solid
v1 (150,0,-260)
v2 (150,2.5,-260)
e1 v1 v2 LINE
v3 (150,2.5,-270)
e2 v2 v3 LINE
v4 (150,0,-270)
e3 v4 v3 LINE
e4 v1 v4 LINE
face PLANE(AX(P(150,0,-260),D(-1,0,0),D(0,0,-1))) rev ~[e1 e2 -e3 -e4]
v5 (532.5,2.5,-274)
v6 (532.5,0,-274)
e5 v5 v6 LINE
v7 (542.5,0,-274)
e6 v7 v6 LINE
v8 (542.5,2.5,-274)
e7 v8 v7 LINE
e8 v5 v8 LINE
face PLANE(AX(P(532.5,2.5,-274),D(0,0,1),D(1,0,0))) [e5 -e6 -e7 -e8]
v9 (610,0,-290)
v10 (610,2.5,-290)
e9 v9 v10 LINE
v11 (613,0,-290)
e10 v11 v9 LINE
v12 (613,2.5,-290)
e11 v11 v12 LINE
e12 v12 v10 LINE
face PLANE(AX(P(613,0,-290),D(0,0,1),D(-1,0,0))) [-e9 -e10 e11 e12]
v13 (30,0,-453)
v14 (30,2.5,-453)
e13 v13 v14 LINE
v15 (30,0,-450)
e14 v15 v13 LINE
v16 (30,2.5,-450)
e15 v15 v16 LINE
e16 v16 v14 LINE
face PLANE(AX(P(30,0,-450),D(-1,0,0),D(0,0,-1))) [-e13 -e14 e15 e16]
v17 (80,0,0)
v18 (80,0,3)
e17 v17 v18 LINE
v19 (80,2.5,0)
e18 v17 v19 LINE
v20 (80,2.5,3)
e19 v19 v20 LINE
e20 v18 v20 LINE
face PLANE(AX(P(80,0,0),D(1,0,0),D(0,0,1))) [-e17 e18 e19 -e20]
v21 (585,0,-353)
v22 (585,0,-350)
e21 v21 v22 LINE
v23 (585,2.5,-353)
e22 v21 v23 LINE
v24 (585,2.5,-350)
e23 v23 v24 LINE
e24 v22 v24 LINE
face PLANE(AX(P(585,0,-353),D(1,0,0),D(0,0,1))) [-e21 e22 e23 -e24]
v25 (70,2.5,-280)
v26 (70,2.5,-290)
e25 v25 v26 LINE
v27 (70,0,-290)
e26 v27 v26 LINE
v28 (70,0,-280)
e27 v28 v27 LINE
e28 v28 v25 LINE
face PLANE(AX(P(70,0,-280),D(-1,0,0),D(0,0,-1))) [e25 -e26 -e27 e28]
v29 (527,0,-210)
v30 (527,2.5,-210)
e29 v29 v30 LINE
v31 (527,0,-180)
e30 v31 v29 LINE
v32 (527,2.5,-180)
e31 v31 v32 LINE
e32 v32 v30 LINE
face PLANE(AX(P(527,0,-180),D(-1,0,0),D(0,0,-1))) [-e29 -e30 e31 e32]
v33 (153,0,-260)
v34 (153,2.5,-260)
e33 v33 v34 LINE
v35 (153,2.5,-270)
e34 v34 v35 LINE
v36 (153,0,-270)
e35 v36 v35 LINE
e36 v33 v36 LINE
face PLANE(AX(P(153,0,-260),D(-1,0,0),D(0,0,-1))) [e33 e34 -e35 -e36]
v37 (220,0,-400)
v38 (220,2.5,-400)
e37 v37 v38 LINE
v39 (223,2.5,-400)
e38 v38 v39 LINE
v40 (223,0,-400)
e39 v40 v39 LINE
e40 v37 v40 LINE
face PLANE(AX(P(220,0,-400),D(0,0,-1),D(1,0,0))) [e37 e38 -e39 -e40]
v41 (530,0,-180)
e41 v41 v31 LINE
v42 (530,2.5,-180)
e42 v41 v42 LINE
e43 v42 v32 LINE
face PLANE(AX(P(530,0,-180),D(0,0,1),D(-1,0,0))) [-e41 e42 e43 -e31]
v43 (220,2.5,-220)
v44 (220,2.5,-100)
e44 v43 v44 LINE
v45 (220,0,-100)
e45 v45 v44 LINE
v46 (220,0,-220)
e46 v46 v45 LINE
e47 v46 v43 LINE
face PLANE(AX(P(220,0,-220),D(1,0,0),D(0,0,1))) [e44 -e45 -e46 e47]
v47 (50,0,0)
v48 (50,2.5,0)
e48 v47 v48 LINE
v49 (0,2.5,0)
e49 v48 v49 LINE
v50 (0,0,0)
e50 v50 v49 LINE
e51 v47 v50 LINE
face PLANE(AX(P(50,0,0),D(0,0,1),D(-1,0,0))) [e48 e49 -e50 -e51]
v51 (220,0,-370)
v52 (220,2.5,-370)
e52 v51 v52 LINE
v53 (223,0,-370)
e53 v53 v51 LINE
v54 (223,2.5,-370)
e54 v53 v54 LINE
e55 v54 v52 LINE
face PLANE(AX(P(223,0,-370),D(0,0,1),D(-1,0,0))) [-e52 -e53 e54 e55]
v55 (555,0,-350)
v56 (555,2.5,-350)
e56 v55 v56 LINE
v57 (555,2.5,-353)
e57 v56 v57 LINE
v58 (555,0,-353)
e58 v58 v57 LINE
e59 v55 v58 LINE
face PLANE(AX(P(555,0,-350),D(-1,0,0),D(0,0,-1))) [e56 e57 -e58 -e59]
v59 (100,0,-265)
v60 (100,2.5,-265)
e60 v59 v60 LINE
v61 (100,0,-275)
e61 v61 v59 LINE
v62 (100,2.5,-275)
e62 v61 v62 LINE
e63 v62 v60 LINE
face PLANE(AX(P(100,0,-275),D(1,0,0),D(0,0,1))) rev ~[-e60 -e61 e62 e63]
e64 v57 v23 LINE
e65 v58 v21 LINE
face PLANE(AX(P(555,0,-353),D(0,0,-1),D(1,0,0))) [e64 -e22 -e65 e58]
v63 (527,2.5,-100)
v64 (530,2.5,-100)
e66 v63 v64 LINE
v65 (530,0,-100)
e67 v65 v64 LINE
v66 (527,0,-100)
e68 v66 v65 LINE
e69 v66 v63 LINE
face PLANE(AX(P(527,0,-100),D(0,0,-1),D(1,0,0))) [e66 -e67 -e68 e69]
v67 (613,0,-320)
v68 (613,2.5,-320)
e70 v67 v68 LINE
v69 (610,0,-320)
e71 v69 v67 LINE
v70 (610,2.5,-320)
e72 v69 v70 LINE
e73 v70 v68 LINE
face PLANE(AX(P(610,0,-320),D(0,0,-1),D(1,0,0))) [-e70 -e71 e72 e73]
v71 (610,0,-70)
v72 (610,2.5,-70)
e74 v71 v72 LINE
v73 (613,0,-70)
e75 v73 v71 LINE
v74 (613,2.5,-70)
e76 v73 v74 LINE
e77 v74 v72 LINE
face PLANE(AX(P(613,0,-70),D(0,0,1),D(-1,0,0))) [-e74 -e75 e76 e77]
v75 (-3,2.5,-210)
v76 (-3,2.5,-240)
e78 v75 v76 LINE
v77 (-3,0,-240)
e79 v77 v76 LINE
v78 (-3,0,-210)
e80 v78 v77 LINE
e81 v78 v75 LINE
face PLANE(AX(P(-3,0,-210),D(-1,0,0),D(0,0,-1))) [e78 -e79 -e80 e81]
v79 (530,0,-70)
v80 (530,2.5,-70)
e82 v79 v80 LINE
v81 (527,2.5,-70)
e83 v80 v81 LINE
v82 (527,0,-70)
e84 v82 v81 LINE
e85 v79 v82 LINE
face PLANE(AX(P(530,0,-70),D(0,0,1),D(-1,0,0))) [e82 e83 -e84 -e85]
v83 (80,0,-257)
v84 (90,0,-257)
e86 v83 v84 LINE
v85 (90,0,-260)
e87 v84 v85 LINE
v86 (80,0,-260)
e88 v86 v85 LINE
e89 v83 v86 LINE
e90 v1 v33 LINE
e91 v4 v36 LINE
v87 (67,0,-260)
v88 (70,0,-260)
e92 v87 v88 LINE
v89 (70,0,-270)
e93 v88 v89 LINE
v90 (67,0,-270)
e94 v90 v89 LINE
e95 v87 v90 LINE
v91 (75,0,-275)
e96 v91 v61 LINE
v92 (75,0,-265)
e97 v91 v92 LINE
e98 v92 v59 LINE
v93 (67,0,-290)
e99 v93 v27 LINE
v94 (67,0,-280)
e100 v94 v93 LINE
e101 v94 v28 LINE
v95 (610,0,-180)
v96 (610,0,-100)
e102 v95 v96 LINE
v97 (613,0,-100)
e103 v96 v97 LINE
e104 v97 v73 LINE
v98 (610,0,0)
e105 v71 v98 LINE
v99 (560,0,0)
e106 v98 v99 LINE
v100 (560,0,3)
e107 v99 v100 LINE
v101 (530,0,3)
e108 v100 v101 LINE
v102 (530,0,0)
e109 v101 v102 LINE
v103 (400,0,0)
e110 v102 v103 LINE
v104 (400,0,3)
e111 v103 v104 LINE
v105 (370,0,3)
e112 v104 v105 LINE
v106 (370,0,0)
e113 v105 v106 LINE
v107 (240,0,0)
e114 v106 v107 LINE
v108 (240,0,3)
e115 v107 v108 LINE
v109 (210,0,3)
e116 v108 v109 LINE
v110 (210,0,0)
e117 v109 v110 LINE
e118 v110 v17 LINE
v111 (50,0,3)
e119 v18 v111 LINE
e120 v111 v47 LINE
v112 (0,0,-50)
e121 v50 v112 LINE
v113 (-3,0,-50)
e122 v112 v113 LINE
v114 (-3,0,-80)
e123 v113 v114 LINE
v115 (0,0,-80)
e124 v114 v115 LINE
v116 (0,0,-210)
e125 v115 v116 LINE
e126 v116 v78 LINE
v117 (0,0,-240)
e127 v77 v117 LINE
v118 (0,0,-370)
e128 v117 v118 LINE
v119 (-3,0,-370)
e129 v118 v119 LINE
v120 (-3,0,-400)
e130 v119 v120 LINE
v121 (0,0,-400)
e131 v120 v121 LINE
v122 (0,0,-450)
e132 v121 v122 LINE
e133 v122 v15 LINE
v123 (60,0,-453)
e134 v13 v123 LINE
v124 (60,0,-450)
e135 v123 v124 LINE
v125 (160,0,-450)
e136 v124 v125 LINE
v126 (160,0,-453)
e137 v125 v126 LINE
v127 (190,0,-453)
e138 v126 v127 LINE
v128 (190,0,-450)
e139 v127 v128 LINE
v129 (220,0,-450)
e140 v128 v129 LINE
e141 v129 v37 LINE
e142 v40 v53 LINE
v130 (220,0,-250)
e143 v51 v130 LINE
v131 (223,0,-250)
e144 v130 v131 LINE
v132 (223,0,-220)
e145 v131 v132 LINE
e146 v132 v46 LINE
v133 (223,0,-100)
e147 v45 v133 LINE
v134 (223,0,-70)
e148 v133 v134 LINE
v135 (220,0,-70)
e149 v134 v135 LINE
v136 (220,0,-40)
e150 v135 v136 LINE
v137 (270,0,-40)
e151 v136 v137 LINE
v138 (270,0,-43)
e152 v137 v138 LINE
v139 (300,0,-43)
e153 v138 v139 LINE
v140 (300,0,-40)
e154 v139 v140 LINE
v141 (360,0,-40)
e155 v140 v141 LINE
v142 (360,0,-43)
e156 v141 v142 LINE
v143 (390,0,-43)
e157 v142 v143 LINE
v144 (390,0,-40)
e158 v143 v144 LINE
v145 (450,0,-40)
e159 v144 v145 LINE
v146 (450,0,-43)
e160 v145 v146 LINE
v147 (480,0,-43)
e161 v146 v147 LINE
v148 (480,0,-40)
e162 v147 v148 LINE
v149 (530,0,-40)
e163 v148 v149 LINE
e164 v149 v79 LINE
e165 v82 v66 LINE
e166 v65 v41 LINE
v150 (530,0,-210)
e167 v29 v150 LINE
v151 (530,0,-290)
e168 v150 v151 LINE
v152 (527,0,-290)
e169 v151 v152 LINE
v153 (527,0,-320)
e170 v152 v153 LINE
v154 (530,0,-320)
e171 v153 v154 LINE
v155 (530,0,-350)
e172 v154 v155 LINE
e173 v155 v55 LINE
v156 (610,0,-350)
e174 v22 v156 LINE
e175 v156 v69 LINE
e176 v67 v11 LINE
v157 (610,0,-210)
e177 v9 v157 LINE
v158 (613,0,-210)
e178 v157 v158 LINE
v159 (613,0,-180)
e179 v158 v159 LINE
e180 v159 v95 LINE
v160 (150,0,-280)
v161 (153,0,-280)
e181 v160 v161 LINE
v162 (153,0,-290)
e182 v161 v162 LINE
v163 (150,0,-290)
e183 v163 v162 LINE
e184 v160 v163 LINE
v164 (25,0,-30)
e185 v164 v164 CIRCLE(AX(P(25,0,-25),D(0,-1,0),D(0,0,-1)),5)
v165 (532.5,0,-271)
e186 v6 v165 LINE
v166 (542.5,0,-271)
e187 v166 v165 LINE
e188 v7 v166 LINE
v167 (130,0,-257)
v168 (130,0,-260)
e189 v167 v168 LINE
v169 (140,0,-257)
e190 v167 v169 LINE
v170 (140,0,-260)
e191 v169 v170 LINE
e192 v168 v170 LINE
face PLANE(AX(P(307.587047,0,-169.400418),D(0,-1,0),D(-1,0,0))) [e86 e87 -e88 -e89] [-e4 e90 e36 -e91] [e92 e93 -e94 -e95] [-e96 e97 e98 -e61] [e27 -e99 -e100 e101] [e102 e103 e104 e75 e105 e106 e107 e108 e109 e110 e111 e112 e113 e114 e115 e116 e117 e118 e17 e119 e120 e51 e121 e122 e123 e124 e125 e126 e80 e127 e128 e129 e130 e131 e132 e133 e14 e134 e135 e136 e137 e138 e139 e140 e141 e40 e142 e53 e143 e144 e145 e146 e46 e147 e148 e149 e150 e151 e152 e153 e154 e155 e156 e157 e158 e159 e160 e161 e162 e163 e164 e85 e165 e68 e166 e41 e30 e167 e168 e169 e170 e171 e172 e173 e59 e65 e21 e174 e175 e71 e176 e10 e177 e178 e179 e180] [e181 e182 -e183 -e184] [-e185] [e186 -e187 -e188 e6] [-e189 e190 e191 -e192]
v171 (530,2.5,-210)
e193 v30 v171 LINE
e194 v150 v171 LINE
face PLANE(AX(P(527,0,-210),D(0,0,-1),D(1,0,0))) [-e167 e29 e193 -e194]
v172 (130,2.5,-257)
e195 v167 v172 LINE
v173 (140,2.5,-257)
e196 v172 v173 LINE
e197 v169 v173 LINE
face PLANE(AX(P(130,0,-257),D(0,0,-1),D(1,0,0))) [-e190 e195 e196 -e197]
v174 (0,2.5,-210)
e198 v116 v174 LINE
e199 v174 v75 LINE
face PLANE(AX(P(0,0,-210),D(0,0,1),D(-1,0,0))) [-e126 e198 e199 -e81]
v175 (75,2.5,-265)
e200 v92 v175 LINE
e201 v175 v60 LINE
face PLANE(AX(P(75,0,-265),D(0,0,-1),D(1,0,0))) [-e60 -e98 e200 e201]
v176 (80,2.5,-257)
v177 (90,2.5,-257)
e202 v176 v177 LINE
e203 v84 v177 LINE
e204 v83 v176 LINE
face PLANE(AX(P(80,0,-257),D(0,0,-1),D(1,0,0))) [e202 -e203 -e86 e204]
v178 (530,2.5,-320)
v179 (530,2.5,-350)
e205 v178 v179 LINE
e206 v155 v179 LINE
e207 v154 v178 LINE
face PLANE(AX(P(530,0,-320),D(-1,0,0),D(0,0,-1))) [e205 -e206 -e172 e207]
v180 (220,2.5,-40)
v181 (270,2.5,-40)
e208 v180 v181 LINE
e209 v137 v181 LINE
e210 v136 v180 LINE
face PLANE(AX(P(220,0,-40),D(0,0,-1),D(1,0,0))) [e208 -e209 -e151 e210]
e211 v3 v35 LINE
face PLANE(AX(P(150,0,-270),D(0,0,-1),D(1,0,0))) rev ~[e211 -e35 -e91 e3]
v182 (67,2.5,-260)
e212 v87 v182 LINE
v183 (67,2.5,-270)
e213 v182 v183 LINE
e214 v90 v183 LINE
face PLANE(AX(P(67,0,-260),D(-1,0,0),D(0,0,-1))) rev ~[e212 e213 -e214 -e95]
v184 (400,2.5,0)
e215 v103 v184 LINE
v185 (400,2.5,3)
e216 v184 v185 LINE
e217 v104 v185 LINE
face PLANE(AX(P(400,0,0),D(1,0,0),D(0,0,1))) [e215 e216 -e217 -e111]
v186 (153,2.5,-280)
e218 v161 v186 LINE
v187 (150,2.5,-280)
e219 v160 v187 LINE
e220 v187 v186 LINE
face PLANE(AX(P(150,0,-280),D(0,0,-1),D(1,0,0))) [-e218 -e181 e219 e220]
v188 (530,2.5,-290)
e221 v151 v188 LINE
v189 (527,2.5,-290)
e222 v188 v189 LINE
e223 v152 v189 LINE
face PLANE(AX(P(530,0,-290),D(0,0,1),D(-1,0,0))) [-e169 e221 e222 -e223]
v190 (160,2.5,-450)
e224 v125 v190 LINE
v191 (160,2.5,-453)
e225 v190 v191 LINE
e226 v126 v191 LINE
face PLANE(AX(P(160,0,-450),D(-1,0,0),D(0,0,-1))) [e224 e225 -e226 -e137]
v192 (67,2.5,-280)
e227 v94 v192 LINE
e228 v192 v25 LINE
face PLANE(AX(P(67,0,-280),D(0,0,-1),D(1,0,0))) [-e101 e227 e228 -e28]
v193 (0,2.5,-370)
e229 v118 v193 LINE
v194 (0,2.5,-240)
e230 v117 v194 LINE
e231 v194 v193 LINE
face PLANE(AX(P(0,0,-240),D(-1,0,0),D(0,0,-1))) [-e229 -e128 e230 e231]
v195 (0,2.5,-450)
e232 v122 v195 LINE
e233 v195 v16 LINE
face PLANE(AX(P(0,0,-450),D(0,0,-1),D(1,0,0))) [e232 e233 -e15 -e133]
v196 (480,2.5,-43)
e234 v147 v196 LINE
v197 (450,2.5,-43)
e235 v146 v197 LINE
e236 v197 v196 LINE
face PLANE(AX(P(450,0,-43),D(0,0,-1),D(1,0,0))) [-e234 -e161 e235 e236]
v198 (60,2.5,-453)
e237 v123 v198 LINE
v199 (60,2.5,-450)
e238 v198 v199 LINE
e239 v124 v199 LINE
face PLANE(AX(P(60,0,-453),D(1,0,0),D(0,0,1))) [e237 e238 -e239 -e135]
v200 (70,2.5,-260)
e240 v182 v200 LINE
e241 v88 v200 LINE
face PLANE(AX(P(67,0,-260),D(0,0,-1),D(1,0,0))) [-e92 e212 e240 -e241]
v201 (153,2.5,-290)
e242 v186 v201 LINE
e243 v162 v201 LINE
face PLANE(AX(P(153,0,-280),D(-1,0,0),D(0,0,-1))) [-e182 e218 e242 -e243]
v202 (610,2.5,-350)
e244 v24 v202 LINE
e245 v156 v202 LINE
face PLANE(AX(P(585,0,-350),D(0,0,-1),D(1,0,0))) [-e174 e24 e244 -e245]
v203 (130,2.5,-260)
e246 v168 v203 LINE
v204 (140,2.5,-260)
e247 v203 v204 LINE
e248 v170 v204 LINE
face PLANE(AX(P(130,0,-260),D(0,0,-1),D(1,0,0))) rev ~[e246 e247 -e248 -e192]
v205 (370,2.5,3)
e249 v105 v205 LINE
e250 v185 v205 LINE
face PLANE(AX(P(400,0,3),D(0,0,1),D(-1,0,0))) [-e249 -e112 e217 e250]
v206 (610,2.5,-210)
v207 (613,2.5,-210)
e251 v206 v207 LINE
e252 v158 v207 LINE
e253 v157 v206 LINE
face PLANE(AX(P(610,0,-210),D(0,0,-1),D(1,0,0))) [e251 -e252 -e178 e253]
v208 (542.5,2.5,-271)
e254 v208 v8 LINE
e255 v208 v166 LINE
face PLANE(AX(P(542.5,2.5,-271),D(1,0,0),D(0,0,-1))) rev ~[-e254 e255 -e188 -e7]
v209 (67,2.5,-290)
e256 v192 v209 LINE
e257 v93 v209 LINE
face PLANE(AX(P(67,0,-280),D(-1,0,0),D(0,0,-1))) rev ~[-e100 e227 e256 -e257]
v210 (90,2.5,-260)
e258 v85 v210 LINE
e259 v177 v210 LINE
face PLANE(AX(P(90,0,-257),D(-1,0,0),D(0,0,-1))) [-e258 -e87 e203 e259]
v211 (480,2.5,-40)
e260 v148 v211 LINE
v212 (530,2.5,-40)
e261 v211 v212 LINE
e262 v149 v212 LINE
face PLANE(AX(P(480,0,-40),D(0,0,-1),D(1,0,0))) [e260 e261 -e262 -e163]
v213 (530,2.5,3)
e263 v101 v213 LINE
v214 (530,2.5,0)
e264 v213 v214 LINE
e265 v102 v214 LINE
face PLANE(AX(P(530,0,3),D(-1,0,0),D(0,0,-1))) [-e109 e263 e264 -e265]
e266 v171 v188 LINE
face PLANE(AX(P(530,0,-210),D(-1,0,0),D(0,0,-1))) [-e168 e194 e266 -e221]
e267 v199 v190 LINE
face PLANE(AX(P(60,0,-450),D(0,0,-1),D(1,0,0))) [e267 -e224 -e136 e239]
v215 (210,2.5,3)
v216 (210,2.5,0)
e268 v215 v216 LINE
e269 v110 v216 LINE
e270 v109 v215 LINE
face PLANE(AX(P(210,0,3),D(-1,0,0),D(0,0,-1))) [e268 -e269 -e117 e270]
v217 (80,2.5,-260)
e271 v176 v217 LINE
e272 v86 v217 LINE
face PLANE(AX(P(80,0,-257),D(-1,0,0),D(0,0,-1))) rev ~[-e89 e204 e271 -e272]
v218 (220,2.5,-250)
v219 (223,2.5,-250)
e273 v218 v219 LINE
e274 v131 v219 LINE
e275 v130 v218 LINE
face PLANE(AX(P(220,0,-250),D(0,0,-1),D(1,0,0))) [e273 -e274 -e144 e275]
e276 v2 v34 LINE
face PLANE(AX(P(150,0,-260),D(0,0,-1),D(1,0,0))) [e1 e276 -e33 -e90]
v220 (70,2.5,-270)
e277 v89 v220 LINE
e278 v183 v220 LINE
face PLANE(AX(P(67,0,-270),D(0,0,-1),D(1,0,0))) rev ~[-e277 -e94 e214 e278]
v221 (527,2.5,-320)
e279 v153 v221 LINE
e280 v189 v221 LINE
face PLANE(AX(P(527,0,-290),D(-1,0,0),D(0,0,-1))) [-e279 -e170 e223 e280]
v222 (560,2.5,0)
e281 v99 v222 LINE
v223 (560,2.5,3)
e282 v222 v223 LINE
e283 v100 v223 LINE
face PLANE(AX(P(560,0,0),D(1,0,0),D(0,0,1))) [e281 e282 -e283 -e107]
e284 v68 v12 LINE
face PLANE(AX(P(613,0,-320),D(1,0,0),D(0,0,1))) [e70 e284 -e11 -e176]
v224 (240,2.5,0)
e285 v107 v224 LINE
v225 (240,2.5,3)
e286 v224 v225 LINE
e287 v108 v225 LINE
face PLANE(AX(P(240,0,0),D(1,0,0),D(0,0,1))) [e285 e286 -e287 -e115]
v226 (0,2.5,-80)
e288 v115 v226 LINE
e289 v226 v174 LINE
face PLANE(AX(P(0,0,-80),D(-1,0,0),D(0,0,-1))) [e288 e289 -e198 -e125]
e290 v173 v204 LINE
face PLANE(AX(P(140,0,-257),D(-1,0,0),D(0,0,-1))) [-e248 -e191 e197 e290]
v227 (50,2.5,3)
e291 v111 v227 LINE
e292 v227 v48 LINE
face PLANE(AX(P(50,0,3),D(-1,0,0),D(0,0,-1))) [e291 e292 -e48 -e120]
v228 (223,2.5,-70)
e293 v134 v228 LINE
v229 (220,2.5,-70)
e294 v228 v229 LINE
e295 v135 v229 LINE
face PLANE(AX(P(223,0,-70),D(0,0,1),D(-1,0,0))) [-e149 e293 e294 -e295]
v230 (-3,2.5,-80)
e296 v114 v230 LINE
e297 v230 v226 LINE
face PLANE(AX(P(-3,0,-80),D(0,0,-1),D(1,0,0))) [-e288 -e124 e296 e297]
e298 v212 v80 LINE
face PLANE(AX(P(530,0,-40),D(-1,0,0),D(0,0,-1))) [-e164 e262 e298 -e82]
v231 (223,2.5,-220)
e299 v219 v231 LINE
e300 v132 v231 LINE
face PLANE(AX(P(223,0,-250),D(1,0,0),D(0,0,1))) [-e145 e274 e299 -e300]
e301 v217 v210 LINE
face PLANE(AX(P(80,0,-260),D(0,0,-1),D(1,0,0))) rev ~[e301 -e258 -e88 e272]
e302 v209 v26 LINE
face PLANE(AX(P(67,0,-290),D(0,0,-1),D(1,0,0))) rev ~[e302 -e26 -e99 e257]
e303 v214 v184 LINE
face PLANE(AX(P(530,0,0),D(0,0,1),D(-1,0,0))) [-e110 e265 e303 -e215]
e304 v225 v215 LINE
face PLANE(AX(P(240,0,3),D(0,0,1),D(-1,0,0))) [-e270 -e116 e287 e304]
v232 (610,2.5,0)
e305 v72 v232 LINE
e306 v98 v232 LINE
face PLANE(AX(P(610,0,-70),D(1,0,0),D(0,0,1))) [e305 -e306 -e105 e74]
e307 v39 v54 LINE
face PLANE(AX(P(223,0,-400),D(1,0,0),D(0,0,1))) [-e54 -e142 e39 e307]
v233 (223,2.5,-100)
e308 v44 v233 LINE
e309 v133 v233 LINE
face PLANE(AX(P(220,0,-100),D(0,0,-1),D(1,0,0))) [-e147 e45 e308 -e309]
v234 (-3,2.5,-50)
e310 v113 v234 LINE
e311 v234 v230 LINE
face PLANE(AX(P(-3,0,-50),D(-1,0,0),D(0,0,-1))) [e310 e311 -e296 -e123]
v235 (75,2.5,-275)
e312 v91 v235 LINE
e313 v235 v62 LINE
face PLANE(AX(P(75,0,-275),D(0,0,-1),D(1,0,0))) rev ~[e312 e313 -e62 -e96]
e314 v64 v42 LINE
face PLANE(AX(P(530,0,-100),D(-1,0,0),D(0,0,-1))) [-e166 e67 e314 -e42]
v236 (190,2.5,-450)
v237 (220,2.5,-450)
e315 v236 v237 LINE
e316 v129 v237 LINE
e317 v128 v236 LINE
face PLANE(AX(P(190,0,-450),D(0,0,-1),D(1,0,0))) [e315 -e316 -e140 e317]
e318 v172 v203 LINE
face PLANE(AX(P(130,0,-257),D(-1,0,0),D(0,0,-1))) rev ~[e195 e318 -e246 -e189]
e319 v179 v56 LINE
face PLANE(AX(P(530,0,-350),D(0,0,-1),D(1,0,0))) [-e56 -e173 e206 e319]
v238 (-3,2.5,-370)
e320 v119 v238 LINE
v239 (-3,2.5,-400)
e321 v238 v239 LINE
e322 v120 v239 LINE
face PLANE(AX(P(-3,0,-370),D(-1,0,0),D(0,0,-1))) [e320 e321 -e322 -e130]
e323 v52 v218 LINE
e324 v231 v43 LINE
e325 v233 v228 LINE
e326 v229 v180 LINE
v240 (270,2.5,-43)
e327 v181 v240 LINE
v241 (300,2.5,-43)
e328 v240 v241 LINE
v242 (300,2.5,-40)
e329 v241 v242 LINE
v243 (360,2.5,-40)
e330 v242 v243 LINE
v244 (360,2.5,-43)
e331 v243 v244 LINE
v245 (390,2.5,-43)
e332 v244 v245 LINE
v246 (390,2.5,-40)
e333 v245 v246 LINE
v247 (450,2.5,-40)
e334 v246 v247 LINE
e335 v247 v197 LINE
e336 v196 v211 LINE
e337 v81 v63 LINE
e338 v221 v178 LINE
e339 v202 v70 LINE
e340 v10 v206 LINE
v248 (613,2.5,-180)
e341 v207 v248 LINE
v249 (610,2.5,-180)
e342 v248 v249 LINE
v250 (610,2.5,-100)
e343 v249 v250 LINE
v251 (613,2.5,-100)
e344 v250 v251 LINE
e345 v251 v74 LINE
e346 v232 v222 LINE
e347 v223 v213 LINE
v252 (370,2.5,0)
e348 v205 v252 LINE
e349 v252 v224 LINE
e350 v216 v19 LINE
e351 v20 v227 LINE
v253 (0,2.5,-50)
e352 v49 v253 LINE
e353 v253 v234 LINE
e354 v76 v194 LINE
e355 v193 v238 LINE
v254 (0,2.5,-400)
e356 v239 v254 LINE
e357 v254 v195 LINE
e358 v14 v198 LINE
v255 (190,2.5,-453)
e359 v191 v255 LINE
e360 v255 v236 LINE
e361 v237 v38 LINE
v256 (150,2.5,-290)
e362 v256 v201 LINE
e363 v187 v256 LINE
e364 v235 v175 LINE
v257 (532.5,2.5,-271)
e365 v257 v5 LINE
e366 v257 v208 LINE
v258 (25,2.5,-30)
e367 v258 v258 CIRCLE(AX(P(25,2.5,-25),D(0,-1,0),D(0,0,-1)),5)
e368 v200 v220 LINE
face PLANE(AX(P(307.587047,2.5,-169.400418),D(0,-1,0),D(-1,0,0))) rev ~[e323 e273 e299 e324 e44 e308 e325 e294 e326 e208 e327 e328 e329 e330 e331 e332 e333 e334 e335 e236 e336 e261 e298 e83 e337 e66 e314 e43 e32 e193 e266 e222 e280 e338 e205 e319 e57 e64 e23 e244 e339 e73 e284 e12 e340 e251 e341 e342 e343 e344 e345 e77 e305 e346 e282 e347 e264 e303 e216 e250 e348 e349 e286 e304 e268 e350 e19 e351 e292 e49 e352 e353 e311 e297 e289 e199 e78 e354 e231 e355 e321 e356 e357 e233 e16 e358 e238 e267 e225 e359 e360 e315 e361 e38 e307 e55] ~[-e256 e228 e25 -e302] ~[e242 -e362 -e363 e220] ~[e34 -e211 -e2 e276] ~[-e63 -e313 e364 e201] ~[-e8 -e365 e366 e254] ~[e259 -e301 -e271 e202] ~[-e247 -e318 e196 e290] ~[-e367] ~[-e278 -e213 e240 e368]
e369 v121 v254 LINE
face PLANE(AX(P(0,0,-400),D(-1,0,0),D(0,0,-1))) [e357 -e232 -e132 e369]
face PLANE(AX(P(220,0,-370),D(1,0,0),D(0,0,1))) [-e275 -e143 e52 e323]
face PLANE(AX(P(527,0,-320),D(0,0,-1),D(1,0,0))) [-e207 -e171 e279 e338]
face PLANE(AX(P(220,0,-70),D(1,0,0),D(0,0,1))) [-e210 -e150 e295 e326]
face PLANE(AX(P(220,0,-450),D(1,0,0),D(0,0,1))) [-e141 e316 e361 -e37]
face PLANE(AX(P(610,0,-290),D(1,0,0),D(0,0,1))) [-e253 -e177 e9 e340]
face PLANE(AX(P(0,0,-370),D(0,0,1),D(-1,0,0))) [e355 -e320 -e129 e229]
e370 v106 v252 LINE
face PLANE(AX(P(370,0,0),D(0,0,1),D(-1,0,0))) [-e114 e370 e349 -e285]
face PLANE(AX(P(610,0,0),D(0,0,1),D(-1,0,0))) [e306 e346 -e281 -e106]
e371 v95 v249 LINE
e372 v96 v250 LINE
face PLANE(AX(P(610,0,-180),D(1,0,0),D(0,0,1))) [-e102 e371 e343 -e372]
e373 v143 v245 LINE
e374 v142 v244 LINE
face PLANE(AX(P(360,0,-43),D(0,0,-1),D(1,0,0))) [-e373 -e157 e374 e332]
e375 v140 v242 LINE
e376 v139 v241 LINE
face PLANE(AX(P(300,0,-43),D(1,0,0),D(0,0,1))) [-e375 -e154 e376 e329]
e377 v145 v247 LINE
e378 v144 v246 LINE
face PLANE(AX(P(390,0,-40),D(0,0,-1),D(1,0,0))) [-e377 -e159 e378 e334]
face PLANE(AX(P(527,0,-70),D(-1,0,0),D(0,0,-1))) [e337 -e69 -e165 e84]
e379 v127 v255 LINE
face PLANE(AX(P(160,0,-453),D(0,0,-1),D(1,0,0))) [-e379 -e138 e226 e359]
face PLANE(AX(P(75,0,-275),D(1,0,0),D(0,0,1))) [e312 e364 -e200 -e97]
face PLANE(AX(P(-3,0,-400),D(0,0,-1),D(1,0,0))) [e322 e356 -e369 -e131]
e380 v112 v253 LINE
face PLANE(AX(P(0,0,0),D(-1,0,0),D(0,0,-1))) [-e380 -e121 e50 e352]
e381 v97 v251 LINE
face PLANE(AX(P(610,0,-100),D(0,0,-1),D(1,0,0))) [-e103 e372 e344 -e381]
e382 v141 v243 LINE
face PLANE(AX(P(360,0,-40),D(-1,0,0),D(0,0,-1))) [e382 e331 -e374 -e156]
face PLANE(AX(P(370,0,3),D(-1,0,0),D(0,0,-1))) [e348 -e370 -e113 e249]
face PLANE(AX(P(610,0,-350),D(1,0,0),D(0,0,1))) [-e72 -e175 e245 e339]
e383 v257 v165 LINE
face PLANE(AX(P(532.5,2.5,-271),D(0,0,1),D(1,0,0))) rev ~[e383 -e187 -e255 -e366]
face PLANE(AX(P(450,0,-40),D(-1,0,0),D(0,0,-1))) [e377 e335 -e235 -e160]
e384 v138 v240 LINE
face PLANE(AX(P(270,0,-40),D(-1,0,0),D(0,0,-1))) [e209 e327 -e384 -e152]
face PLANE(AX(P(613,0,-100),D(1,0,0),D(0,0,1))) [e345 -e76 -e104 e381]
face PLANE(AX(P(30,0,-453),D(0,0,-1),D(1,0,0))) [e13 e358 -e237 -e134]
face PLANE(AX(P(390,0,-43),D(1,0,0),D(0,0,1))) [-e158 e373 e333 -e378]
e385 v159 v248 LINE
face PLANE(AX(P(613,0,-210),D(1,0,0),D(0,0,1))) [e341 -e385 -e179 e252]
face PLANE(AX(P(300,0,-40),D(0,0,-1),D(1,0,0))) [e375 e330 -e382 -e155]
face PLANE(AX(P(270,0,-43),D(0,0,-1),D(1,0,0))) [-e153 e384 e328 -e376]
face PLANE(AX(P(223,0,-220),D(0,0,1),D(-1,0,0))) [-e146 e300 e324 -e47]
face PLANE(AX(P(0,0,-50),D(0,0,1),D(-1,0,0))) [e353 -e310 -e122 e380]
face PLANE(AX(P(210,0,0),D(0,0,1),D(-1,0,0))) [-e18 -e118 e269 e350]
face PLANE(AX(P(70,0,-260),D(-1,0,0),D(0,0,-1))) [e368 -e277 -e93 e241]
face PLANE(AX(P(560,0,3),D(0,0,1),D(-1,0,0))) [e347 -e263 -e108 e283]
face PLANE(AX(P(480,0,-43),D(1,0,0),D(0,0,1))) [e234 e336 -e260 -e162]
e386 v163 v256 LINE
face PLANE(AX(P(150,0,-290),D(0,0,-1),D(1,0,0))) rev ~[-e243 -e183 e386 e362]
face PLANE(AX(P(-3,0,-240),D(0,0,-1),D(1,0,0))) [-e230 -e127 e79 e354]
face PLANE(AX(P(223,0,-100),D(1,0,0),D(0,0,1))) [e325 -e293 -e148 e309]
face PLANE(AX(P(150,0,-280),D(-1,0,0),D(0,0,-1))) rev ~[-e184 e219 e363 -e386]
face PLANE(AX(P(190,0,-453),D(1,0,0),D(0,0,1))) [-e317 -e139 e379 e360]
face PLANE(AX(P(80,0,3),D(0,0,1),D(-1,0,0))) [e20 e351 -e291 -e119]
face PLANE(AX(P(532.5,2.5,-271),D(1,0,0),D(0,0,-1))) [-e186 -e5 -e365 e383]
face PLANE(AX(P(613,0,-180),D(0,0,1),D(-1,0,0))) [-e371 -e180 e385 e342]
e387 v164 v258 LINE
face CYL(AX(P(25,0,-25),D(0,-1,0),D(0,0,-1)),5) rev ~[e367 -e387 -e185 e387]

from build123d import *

# Parameters (mm, degrees)
SKETCH1_W           = 3
SKETCH1_H           = 10
SKETCH1_W_2         = 10
SKETCH1_H_2         = 3
BOSS_EXTRUDE1_DEPTH = 2.5
SKETCH2_W           = 10
SKETCH2_H           = 3
CUT_EXTRUDE1_DEPTH  = 10
SKETCH3_R           = 5
SKETCH3_W           = 25
SKETCH3_H           = 10
CUT_EXTRUDE2_DEPTH  = 10


with BuildPart() as part:
    # Sketch1 → Boss-Extrude1 (new body)
    with BuildSketch(Plane(origin=(0, 0, 0), x_dir=(1, 0, 0), z_dir=(0, 1, 0))):
        Polygon((0, 0), (0, 50), (-3, 50), (-3, 80), (0, 80), (0, 210), (-3, 210), (-3, 240), (0, 240), (0, 370), (-3, 370), (-3, 400), (0, 400), (0, 450), (30, 450), (30, 453), (60, 453), (60, 450), (160, 450), (160, 453), (190, 453), (190, 450), (220, 450), (220, 400), (223, 400), (223, 370), (220, 370), (220, 250), (223, 250), (223, 220), (220, 220), (220, 100), (223, 100), (223, 70), (220, 70), (220, 40), (270, 40), (270, 43), (300, 43), (300, 40), (360, 40), (360, 43), (390, 43), (390, 40), (450, 40), (450, 43), (480, 43), (480, 40), (530, 40), (530, 70), (527, 70), (527, 100), (530, 100), (530, 180), (527, 180), (527, 210), (530, 210), (530, 290), (527, 290), (527, 320), (530, 320), (530, 350), (555, 350), (555, 353), (585, 353), (585, 350), (610, 350), (610, 320), (613, 320), (613, 290), (610, 290), (610, 210), (613, 210), (613, 180), (610, 180), (610, 100), (613, 100), (613, 70), (610, 70), (610, 0), (560, 0), (560, -3), (530, -3), (530, 0), (400, 0), (400, -3), (370, -3), (370, 0), (240, 0), (240, -3), (210, -3), (210, 0), (80, 0), (80, -3), (50, -3), (50, 0), align=None)
        with Locations((68.5, 265)):
            Rectangle(SKETCH1_W, SKETCH1_H, mode=Mode.SUBTRACT)
        with Locations((68.5, 285)):
            Rectangle(SKETCH1_W, SKETCH1_H, mode=Mode.SUBTRACT)
        with Locations((85, 258.5)):
            Rectangle(SKETCH1_W_2, SKETCH1_H_2, mode=Mode.SUBTRACT)
        with Locations((135, 258.5)):
            Rectangle(SKETCH1_W_2, SKETCH1_H_2, mode=Mode.SUBTRACT)
        with Locations((151.5, 265)):
            Rectangle(SKETCH1_W, SKETCH1_H, mode=Mode.SUBTRACT)
        with Locations((151.5, 285)):
            Rectangle(SKETCH1_W, SKETCH1_H, mode=Mode.SUBTRACT)
    extrude(amount=BOSS_EXTRUDE1_DEPTH)

    # Sketch2 → Cut-Extrude1 (cut)
    with BuildSketch(Plane(origin=(0, 2.5, 0), x_dir=(1, 0, 0), z_dir=(0, 1, 0))):
        with Locations((537.5, 272.5)):
            Rectangle(SKETCH2_W, SKETCH2_H)
    extrude(amount=-CUT_EXTRUDE1_DEPTH, mode=Mode.SUBTRACT)

    # Sketch3 → Cut-Extrude2 (cut)
    with BuildSketch(Plane.XZ):
        with Locations(Location((25, -25, 0), (0, 0, 270))):
            Circle(SKETCH3_R)
        with Locations((87.5, -270)):
            Rectangle(SKETCH3_W, SKETCH3_H)
    extrude(amount=-CUT_EXTRUDE2_DEPTH, mode=Mode.SUBTRACT)


solid = part.part
